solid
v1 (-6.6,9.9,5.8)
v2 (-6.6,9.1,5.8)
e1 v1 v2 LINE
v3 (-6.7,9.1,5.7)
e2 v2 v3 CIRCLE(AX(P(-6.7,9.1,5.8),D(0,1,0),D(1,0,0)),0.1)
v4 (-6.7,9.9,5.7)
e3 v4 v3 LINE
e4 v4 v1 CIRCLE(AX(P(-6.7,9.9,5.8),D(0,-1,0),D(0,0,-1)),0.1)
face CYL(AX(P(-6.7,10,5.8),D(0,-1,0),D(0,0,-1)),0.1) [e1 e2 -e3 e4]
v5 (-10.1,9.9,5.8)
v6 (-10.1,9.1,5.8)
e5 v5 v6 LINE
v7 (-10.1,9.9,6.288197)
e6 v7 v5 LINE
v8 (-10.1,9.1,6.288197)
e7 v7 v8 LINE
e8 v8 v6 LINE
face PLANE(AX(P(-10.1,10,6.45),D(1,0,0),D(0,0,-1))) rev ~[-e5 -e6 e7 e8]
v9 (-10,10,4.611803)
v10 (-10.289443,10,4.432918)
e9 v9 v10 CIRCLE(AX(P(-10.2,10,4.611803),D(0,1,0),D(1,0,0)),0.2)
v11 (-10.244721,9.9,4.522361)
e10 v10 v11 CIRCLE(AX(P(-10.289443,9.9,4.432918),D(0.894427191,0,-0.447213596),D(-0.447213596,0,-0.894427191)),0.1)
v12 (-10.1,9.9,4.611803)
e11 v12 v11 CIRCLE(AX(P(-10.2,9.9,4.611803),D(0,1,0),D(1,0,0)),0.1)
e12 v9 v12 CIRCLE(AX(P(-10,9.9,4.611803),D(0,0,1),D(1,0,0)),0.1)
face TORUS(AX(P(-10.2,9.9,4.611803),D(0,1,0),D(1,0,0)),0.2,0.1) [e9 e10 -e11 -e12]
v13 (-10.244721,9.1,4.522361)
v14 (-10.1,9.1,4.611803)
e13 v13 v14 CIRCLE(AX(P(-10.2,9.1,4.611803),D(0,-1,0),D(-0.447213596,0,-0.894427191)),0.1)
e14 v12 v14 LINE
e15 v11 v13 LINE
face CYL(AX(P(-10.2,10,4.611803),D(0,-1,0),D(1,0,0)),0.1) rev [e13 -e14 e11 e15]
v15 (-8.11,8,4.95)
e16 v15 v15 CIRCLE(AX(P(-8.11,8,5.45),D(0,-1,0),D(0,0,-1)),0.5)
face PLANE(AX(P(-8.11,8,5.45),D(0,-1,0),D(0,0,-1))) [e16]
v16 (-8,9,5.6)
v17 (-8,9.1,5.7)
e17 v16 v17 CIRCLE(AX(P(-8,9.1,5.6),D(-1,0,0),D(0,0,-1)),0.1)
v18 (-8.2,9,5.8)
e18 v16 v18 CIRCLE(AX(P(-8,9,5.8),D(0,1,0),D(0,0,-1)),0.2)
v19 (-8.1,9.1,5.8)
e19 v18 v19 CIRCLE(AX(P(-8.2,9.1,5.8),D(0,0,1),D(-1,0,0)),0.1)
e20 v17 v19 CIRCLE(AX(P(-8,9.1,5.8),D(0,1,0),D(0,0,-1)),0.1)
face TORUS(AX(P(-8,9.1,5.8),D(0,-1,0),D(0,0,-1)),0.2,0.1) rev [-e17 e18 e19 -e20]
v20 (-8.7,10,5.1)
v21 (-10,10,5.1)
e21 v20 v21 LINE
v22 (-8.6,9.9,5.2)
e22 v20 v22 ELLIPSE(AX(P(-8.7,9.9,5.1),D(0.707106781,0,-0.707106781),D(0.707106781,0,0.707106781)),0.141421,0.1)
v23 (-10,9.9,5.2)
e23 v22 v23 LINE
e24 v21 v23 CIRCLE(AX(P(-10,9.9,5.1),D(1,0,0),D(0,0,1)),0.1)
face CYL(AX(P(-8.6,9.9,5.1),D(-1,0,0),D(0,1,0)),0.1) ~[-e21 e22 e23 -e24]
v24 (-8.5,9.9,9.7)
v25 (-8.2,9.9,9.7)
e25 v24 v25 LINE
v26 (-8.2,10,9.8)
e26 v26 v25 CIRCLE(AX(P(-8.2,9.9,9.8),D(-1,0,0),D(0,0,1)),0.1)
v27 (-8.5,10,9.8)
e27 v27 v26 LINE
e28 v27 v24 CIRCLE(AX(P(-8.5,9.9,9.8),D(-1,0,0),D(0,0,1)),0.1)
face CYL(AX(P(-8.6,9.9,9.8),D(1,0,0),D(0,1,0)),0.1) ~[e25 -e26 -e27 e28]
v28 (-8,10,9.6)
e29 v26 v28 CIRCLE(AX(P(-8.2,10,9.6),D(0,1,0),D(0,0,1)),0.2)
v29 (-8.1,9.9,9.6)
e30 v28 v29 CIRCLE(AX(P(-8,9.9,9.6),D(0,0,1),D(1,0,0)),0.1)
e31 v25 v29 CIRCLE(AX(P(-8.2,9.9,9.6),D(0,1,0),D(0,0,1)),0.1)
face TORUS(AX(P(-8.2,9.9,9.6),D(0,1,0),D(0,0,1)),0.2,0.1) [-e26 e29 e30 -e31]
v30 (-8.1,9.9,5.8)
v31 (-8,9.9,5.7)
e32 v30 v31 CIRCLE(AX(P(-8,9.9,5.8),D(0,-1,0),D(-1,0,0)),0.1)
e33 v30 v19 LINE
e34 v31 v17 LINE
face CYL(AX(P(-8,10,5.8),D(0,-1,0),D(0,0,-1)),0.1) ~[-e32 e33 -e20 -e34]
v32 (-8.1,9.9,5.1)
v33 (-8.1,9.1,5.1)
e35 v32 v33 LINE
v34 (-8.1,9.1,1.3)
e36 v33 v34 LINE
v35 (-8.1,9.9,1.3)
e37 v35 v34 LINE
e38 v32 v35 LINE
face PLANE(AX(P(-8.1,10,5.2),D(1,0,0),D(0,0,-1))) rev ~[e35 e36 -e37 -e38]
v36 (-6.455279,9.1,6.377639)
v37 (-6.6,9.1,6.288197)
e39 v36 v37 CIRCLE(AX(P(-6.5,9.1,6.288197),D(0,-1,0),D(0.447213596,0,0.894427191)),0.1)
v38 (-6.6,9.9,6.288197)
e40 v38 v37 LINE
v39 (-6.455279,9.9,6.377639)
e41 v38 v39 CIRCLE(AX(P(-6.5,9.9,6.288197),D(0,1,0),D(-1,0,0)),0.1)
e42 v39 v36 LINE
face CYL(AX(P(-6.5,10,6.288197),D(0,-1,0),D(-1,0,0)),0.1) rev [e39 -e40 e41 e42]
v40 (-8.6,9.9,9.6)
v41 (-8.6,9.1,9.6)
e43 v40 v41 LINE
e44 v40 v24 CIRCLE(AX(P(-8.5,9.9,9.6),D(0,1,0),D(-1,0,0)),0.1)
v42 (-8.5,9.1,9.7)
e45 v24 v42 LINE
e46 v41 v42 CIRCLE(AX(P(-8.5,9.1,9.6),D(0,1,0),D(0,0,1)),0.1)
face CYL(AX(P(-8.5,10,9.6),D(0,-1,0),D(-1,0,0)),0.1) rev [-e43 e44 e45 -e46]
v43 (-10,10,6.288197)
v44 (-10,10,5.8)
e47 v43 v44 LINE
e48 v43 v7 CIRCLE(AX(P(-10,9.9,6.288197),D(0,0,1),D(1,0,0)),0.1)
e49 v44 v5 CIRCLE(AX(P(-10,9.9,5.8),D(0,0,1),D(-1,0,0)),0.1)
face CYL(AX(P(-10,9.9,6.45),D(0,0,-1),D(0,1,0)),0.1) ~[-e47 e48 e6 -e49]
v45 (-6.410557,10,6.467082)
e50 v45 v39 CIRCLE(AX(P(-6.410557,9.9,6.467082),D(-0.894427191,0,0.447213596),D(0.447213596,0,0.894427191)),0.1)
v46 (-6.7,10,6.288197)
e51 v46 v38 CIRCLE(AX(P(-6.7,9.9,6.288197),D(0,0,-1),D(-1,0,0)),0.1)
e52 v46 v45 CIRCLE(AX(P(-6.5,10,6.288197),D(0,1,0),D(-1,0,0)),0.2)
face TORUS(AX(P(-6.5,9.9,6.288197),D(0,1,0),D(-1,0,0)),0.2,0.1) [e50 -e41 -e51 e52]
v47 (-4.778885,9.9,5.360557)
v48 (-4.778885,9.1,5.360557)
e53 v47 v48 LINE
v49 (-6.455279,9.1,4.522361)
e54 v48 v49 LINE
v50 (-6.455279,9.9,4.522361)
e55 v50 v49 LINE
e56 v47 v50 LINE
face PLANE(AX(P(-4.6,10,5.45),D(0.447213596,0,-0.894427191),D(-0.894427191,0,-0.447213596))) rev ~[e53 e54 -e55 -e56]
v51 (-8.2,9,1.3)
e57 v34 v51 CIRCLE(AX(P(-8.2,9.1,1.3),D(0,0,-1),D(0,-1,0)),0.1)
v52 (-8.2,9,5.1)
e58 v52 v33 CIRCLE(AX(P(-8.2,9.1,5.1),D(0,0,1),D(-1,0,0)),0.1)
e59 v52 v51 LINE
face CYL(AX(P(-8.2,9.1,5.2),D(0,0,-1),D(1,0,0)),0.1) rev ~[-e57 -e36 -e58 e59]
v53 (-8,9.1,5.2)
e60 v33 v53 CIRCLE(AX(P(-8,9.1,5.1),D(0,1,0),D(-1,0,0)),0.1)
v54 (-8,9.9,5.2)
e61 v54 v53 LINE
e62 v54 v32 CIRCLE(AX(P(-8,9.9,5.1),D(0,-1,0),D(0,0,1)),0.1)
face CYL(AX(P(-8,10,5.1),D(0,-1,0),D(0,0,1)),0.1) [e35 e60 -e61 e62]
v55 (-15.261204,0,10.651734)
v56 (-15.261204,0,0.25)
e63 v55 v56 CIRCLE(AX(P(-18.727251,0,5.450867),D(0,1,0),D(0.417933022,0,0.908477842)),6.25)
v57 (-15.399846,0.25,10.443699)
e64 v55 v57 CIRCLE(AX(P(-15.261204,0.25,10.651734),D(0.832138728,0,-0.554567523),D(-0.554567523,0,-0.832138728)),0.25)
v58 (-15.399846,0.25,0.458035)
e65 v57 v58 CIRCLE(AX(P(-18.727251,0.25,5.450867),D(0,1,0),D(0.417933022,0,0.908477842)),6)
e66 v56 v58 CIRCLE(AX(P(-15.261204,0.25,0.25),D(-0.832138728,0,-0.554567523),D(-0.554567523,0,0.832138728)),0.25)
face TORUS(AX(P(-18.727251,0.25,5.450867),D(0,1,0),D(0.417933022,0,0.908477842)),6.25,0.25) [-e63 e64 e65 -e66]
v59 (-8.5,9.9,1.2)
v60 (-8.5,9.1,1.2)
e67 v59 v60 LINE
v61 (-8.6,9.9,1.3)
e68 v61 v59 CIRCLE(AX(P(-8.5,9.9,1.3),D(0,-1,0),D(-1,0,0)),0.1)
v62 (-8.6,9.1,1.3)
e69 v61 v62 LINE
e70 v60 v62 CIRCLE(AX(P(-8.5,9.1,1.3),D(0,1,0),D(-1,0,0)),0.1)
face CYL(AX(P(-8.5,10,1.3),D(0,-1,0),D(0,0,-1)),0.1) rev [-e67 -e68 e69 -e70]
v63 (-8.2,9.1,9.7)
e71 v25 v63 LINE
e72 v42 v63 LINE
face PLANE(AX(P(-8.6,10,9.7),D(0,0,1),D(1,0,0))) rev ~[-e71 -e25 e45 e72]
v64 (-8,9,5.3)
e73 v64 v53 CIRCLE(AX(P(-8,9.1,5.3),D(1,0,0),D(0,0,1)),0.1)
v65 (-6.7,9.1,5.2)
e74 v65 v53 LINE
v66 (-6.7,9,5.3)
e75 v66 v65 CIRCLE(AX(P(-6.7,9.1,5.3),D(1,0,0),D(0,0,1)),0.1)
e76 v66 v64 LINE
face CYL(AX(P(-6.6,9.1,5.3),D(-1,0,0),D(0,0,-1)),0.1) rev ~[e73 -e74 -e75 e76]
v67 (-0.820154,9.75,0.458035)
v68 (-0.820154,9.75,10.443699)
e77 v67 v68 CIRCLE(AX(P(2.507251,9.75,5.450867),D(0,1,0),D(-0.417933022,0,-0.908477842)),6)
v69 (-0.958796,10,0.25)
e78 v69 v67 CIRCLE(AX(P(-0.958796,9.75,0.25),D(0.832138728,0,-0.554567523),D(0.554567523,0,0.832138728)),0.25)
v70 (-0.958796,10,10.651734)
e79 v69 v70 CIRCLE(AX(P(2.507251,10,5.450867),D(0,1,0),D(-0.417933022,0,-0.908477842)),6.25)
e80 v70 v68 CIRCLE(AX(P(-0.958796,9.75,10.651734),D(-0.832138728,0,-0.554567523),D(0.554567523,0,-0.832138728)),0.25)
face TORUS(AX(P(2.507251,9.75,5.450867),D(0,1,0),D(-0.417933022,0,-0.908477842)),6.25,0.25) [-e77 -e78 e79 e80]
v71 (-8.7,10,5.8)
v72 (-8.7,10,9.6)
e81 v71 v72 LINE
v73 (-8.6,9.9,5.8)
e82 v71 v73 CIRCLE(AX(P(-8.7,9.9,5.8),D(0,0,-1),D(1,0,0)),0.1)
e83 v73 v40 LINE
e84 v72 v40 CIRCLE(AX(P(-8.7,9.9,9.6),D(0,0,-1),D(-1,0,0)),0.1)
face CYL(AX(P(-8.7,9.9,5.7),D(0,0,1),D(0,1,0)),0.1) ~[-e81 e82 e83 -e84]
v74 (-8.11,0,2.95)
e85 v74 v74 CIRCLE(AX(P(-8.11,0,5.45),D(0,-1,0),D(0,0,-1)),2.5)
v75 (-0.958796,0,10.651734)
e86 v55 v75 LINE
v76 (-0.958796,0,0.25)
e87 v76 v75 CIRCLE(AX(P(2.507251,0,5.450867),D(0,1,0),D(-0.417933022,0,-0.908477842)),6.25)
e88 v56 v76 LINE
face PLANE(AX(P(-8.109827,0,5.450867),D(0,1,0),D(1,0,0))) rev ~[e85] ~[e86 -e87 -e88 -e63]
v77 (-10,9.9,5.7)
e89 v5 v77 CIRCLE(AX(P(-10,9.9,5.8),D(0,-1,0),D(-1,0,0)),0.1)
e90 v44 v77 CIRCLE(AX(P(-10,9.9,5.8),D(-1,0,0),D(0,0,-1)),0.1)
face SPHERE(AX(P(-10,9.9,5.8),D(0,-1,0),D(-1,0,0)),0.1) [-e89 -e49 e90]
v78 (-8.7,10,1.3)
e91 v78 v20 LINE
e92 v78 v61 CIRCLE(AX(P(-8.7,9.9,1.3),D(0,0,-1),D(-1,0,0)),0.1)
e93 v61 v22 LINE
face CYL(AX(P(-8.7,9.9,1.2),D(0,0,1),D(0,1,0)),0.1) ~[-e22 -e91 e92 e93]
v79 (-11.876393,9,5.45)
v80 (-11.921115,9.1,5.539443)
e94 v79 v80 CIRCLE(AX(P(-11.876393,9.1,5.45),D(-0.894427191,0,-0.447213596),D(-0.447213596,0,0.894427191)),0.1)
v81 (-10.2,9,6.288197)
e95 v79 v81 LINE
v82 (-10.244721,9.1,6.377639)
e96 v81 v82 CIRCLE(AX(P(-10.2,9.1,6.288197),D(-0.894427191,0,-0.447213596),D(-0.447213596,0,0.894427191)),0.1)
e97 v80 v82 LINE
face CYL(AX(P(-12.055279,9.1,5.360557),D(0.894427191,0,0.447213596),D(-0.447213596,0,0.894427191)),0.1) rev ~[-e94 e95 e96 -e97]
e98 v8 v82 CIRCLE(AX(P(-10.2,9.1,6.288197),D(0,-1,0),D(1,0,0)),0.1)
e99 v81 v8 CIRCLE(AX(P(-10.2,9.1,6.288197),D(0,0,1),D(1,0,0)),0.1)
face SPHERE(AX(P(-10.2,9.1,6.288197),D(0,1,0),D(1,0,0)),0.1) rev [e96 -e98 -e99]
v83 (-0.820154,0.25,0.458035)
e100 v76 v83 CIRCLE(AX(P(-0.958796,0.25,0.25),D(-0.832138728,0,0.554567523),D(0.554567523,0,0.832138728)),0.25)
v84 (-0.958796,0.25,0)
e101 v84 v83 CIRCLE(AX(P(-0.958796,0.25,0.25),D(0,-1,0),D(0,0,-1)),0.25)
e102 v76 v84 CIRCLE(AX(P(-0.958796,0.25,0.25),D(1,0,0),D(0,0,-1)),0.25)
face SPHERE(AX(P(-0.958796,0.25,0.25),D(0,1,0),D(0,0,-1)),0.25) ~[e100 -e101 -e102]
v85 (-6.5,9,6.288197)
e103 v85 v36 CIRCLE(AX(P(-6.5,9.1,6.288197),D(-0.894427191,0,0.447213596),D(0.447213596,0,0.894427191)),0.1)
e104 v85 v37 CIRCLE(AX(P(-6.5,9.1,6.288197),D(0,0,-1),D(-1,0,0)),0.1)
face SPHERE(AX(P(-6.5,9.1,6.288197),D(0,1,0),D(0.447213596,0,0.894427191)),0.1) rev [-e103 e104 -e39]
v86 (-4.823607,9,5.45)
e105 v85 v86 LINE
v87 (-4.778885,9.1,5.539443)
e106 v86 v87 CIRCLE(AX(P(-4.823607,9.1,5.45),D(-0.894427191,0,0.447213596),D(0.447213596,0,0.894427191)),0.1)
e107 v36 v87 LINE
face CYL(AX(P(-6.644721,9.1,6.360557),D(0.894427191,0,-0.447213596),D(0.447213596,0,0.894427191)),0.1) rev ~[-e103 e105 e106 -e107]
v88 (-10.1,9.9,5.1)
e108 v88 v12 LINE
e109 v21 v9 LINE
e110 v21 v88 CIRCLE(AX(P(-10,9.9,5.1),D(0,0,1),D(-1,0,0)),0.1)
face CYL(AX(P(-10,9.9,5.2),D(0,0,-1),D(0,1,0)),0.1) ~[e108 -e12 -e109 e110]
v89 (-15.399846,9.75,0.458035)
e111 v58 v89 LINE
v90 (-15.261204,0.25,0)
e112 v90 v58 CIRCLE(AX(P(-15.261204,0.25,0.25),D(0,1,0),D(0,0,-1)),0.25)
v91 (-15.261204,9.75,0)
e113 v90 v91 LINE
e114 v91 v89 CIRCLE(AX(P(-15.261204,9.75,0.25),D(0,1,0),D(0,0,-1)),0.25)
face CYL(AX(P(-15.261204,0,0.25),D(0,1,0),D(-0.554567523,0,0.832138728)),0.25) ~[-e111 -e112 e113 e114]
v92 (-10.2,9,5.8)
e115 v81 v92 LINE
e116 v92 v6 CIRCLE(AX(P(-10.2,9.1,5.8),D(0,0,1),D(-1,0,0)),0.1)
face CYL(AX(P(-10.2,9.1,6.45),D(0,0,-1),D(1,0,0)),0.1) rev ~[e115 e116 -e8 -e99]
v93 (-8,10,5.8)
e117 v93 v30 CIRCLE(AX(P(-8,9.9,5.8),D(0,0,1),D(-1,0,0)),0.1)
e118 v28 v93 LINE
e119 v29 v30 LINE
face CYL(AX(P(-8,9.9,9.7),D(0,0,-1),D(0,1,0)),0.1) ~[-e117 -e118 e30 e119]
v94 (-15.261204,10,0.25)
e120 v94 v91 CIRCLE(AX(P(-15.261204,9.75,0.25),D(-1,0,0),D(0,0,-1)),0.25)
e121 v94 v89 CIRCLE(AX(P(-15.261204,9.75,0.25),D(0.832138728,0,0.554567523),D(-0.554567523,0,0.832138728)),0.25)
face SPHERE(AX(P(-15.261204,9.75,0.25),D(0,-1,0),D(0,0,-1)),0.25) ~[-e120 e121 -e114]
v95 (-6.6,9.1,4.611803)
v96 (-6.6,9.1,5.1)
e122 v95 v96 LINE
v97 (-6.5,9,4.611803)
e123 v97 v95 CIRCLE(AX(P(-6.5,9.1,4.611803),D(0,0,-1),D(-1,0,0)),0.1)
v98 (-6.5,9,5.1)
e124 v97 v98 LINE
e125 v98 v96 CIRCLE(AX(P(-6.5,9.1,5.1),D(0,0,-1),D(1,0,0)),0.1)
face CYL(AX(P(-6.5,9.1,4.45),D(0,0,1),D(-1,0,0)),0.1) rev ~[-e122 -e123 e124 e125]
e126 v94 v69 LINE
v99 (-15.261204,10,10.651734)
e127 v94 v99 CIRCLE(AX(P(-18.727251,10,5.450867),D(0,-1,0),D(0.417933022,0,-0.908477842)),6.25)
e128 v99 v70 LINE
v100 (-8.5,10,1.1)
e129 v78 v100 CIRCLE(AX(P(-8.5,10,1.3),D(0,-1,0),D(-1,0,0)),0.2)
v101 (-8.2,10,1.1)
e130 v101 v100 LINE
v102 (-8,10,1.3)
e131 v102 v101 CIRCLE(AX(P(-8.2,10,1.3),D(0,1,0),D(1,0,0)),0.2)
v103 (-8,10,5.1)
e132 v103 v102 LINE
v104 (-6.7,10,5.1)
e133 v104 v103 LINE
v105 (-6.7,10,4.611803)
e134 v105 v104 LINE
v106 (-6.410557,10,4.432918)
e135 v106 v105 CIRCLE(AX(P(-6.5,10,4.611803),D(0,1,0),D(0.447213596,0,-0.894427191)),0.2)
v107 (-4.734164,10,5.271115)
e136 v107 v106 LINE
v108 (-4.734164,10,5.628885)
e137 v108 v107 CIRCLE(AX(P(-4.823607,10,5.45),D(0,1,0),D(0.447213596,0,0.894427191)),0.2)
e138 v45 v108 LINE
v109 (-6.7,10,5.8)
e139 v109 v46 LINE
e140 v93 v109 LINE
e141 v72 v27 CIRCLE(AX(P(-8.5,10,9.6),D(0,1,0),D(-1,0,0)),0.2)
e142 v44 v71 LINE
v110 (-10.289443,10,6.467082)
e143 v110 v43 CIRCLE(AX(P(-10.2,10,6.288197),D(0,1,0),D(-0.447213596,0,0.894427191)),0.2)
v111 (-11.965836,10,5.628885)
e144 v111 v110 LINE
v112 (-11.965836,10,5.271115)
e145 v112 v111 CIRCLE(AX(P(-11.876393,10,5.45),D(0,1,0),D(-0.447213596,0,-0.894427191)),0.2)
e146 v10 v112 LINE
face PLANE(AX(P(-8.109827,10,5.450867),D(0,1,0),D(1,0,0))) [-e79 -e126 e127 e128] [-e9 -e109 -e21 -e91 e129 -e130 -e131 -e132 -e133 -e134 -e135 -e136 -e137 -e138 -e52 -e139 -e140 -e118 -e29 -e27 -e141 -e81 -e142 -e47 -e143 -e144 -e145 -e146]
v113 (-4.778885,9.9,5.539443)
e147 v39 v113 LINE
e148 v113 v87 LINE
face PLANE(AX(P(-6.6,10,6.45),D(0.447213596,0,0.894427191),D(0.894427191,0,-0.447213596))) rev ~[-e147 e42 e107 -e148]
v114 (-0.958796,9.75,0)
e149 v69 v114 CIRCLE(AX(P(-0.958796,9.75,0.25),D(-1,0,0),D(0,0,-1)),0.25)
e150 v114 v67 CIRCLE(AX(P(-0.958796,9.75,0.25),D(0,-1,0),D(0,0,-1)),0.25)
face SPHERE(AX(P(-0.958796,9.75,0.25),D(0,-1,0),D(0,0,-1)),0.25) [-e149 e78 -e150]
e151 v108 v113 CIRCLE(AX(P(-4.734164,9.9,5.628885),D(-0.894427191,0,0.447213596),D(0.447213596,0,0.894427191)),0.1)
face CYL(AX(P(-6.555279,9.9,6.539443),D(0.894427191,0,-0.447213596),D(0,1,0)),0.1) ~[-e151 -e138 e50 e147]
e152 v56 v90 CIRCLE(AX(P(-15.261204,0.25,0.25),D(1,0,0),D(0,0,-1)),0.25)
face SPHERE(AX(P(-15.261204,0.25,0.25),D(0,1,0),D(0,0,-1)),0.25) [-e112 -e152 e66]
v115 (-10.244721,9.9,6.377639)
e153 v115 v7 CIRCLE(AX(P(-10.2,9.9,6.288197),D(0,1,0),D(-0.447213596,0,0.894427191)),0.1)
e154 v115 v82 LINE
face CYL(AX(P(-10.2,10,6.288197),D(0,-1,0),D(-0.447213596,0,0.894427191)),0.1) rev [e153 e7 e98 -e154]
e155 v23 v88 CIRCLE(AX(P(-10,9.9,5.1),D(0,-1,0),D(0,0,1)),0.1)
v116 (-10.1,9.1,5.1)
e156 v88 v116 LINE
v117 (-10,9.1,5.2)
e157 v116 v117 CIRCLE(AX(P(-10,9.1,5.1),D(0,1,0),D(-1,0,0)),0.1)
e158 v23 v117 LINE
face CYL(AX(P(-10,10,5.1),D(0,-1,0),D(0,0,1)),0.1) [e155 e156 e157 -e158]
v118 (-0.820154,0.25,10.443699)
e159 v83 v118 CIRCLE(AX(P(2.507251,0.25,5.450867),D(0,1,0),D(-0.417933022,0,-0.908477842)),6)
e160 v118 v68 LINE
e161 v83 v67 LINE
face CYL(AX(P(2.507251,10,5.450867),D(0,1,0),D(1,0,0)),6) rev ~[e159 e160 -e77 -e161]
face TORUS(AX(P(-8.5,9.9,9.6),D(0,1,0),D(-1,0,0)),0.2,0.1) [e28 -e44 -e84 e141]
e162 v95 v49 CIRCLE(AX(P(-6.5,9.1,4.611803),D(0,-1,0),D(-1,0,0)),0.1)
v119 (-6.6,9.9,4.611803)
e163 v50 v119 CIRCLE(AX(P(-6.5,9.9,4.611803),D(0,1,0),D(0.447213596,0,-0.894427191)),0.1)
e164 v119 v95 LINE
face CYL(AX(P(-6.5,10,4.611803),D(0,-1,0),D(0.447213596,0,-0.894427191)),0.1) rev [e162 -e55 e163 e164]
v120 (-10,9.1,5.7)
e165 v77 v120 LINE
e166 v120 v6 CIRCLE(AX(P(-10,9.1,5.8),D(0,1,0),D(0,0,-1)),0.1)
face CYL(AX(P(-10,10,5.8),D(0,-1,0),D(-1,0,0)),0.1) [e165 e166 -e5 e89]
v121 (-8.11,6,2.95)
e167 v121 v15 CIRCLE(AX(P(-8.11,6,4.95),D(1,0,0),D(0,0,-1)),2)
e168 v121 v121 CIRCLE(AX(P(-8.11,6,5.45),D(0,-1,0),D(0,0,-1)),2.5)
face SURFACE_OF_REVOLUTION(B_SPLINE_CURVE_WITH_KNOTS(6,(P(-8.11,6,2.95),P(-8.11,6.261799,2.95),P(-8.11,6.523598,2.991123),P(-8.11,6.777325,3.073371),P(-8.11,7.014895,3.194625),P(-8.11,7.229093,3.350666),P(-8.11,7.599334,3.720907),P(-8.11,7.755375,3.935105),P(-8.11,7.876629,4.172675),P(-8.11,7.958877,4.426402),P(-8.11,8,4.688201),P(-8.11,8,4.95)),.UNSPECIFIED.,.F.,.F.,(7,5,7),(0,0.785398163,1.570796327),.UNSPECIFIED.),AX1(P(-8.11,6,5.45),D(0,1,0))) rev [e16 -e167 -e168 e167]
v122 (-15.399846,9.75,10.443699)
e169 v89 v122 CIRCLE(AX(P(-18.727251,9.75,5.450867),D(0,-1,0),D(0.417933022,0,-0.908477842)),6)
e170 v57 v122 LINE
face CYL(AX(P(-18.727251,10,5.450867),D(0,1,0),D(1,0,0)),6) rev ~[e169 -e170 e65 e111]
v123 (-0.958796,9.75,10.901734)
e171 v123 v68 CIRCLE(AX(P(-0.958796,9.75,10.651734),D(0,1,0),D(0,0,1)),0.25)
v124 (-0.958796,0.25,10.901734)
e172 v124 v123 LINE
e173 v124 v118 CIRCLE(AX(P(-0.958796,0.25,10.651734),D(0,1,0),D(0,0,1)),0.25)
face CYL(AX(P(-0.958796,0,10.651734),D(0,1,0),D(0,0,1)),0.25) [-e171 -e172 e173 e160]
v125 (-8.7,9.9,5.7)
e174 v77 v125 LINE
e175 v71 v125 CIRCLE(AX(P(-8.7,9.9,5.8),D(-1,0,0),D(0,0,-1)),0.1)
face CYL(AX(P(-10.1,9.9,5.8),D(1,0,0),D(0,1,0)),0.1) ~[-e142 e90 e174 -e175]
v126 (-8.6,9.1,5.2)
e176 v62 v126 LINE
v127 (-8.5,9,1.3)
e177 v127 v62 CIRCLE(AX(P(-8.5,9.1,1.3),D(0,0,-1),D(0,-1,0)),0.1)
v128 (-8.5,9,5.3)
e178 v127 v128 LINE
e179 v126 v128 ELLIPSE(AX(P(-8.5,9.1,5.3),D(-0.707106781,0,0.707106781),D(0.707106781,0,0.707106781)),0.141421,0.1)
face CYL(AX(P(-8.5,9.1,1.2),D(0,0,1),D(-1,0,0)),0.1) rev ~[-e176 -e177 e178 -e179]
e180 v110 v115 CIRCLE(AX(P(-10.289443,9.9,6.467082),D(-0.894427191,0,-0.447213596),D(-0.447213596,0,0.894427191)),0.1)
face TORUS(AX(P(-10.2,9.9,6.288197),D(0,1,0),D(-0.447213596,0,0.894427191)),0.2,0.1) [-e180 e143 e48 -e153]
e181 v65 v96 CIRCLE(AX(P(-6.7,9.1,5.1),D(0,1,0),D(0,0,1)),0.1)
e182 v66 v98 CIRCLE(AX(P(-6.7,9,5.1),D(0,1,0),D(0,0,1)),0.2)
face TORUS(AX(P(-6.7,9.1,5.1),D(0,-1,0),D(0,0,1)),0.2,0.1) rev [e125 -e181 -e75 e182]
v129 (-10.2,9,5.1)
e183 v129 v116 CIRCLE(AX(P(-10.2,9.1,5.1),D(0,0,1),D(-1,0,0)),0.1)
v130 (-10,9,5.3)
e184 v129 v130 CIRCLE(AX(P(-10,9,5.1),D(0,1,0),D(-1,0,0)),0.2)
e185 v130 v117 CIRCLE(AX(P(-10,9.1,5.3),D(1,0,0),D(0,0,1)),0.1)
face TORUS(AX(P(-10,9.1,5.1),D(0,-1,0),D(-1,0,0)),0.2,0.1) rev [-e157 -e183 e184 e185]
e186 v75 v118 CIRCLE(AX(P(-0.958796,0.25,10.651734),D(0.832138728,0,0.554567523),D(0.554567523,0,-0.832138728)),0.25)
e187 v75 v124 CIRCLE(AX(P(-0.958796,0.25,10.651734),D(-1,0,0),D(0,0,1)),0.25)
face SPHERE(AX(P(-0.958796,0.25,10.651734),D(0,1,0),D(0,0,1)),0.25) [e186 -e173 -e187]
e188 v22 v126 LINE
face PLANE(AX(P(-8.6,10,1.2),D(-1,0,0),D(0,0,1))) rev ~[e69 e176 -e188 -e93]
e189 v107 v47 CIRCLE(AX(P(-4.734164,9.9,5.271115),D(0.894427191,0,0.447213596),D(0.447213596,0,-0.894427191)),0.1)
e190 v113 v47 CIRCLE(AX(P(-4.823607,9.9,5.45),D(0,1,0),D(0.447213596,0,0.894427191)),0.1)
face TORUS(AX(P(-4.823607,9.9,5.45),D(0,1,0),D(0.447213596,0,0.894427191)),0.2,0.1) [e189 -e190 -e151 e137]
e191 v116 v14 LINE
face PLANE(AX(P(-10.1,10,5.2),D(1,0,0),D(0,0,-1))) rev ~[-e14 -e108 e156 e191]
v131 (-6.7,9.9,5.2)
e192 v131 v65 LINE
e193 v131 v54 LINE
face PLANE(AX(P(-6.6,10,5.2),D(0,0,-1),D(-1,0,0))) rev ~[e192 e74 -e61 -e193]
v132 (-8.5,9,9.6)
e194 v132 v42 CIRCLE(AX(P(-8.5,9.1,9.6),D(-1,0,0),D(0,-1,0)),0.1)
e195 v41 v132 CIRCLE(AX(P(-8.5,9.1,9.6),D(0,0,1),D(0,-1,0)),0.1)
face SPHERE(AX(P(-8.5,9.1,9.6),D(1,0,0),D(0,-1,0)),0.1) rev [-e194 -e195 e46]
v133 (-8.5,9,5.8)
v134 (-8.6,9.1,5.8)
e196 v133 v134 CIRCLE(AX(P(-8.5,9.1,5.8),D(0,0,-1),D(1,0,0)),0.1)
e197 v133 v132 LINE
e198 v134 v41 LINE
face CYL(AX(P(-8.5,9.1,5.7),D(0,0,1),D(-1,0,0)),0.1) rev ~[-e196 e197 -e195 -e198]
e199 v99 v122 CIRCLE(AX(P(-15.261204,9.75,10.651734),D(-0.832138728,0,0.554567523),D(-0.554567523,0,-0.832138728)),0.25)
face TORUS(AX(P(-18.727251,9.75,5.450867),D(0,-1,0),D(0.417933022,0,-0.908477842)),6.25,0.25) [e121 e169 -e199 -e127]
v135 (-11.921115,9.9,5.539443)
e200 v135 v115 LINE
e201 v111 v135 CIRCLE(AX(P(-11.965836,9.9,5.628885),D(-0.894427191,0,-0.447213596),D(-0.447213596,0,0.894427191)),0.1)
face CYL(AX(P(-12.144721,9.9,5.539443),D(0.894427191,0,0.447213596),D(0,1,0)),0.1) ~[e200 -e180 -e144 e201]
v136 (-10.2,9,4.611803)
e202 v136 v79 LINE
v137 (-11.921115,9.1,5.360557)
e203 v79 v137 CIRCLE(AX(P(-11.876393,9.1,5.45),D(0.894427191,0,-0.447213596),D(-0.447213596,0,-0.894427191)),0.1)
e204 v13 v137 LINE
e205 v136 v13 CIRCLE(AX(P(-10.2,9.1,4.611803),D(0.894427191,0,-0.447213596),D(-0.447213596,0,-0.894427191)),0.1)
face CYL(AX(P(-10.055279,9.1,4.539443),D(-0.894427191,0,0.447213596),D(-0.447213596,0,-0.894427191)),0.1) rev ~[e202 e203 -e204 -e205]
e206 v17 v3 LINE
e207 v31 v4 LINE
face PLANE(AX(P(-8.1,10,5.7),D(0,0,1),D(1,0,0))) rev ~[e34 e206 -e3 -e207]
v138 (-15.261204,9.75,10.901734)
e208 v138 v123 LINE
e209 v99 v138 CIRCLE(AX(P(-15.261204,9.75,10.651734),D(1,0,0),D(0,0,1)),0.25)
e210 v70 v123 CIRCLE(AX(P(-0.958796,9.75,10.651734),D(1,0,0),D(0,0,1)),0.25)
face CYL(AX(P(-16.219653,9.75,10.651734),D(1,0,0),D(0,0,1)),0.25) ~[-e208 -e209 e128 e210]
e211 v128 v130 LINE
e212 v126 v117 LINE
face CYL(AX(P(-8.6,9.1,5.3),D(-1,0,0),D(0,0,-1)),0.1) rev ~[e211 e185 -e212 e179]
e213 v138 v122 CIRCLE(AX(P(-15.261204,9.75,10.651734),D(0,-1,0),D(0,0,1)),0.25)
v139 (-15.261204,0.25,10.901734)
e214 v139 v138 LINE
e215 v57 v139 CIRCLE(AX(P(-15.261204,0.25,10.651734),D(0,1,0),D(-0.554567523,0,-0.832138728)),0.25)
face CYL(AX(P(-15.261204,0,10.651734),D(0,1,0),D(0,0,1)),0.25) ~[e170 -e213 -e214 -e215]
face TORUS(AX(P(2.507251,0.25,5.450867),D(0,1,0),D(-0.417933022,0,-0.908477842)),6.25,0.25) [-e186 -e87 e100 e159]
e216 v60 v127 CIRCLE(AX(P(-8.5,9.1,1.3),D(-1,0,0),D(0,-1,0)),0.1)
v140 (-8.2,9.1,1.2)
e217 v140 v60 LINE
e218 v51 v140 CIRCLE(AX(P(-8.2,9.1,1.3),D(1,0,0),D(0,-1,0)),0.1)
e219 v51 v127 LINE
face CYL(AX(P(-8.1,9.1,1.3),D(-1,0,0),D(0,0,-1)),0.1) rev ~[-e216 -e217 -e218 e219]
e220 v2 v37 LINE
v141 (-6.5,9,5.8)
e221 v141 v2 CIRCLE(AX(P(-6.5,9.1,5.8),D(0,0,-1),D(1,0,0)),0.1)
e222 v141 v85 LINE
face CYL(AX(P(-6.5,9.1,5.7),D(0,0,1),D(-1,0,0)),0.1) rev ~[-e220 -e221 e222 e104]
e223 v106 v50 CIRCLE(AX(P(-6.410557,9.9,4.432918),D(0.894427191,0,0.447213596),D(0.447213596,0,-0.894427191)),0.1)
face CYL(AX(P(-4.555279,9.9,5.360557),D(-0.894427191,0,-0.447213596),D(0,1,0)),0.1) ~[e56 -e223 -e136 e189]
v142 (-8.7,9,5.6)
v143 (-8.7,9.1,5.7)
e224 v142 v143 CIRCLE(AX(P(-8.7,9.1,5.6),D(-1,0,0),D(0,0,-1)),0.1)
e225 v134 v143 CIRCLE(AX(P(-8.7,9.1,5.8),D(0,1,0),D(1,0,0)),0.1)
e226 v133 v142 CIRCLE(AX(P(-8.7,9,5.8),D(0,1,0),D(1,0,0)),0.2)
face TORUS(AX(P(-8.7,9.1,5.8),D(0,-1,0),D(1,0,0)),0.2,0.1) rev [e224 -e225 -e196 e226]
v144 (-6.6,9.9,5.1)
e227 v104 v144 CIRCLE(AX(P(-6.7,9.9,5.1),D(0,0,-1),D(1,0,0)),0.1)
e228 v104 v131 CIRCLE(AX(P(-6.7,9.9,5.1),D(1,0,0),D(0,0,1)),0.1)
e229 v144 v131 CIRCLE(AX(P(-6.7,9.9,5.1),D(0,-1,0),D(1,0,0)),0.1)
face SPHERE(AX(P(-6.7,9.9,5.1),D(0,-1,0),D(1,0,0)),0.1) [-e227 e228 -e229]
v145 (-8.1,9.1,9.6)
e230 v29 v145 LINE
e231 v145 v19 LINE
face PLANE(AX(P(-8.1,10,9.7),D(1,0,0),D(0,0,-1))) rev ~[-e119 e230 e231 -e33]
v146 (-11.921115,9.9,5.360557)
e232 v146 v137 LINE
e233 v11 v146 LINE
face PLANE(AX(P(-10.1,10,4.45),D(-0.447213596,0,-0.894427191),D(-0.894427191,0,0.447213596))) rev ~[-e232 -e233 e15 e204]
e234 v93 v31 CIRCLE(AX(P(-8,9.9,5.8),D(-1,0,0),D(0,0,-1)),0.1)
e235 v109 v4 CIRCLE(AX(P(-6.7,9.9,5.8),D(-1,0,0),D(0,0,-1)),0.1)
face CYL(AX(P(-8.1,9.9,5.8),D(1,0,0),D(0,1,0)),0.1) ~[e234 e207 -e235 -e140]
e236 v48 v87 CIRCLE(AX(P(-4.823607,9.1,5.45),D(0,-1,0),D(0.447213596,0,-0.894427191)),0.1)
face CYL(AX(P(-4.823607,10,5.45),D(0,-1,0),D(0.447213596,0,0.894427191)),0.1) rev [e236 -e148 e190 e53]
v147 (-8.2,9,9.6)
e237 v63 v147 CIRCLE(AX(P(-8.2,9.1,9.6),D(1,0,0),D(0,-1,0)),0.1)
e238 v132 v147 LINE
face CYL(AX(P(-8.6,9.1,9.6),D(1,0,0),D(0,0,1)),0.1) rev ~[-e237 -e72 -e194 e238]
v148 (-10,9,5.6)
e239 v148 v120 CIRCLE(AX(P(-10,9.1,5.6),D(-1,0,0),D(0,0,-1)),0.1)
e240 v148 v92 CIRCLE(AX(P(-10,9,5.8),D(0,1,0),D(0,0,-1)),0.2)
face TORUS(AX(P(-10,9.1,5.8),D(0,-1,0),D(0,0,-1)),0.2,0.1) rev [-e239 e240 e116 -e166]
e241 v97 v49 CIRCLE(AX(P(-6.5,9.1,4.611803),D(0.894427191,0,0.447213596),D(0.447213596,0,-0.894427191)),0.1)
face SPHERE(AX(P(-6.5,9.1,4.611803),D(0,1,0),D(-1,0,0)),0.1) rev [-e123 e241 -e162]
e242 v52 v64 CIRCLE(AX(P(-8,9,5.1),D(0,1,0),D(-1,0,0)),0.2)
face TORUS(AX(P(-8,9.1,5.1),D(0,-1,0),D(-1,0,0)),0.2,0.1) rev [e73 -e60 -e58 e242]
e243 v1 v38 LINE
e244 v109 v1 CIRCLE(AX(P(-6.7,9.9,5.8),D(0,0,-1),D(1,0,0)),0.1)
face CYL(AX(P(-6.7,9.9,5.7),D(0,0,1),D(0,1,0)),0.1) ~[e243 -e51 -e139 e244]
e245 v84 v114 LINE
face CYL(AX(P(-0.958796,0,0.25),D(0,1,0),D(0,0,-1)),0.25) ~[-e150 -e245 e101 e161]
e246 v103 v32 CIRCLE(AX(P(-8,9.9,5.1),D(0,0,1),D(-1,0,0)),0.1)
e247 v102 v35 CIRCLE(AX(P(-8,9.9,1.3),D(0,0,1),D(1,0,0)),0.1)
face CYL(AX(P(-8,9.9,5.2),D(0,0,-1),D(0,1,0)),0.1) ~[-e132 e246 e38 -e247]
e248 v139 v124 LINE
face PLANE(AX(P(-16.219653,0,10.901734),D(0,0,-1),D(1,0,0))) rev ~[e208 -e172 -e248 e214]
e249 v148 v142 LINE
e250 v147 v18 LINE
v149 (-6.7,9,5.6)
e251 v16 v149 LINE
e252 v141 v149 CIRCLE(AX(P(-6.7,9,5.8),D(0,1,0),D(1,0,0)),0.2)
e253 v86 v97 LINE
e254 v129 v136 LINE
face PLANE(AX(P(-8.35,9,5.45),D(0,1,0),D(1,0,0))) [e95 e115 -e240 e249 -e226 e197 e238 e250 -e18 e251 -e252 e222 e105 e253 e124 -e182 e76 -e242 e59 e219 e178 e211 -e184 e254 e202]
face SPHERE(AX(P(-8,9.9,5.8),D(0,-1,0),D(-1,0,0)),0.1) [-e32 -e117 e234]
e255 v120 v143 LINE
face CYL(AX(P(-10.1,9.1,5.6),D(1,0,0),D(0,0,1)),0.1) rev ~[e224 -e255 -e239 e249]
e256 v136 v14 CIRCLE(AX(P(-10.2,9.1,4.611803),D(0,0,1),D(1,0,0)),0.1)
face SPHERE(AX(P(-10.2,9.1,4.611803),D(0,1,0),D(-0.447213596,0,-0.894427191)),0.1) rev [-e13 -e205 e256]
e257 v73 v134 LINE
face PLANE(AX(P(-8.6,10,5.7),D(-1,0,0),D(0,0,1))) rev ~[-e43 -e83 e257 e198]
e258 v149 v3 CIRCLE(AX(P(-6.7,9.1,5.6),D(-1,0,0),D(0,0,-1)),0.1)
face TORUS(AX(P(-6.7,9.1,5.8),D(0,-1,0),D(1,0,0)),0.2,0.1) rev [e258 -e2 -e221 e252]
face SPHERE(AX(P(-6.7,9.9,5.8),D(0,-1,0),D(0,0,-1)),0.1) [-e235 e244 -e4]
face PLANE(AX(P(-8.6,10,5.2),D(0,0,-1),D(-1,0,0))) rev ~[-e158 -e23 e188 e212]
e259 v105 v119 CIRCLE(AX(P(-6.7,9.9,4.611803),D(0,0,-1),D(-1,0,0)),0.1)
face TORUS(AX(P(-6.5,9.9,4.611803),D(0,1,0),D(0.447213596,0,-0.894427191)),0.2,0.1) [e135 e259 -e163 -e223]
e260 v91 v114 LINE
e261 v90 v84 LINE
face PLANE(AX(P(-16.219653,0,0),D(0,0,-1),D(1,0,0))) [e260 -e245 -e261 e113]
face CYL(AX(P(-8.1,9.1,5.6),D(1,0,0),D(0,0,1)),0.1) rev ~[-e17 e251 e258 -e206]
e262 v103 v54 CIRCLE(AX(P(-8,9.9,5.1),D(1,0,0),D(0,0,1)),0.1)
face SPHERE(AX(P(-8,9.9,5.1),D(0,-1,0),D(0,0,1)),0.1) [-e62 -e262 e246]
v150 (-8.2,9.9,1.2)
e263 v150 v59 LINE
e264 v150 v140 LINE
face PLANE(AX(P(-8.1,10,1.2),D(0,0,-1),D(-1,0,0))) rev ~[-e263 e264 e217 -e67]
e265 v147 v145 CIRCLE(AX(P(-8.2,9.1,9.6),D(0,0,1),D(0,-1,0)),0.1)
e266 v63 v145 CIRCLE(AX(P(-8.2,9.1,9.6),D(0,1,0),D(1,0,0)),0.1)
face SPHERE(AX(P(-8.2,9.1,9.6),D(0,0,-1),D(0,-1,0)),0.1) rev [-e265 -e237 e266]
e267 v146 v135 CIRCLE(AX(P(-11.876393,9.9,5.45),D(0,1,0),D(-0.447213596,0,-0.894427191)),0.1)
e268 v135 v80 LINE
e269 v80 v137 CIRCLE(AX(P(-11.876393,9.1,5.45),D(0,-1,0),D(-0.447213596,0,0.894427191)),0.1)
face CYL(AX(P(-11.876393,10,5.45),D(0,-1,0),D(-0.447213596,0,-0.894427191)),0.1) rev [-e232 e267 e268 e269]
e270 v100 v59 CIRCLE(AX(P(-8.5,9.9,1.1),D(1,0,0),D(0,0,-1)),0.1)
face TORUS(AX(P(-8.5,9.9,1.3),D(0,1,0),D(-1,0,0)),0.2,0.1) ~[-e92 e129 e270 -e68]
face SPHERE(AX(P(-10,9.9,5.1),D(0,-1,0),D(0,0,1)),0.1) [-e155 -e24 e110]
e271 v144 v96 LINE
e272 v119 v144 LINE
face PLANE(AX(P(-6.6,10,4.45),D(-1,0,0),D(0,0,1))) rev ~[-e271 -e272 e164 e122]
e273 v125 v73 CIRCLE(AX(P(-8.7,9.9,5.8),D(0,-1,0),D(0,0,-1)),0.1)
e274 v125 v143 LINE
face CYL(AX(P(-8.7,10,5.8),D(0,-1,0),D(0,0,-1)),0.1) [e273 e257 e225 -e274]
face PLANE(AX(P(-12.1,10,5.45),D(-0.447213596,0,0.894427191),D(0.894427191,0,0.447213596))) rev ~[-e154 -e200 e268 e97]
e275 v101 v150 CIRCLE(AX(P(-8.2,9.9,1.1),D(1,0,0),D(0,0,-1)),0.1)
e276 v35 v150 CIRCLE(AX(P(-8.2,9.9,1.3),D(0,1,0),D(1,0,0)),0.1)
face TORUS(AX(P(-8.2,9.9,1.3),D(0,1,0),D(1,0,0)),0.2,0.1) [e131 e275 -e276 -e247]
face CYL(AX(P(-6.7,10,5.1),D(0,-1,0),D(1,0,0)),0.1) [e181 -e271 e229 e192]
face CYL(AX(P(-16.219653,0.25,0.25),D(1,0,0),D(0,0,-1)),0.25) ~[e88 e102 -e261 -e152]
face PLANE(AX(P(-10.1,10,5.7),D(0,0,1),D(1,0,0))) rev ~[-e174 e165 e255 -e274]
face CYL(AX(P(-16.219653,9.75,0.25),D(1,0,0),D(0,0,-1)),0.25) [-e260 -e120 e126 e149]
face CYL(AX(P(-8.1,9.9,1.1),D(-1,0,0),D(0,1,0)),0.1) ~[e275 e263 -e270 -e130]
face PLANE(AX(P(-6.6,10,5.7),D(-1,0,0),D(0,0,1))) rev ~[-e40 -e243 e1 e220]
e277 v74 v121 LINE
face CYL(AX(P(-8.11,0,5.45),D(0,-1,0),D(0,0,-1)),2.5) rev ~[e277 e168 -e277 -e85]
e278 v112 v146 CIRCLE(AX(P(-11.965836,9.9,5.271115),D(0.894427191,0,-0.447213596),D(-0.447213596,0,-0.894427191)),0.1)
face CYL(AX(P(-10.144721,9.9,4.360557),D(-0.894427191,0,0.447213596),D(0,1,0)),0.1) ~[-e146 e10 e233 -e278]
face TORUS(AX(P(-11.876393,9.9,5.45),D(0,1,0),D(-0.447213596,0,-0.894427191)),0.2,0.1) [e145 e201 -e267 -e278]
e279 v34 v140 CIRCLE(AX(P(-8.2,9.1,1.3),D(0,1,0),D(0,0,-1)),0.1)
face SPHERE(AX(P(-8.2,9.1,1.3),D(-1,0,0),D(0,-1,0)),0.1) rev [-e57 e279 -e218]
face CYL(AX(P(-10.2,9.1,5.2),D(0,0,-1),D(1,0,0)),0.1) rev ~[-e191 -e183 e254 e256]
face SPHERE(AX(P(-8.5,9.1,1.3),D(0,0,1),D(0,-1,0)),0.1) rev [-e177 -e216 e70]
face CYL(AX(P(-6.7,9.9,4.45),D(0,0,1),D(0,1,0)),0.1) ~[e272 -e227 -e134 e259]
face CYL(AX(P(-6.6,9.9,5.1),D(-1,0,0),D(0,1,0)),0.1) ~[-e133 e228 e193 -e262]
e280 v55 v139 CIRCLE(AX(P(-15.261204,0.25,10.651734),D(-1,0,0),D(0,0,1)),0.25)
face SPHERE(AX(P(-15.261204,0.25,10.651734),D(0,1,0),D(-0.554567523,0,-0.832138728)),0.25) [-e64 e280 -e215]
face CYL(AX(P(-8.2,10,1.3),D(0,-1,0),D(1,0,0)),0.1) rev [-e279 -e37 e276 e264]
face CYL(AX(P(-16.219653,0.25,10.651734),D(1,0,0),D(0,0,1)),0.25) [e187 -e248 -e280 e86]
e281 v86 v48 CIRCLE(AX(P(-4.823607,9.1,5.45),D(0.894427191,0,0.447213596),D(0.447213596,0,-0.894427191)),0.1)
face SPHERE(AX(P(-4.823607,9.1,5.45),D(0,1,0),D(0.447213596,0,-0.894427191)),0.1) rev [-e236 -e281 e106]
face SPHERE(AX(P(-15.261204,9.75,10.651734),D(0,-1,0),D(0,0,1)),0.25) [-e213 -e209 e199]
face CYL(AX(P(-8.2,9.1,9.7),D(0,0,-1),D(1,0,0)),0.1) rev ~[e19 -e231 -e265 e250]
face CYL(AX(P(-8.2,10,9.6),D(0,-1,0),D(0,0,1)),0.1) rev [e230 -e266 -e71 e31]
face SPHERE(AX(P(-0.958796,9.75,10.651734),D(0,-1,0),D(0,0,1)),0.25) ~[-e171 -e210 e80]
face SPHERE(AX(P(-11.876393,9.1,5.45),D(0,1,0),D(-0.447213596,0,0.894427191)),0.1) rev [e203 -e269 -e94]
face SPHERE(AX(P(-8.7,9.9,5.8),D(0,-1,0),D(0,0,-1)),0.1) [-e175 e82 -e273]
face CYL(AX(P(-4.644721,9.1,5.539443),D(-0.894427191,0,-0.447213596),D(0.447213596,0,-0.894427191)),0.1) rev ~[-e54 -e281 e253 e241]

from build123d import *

# Parameters (mm, degrees)
SKETCH1_W           = 16.2196532
SKETCH1_H           = 10.9017341
BOSS_EXTRUDE1_DEPTH = 10
SKETCH2_R           = 6
CUT_EXTRUDE1_DEPTH  = 10
FILLET1_R           = 0.25
SKETCH3_R           = 2.5
CUT_EXTRUDE2_DEPTH  = 8
FILLET2_R           = 2
CUT_EXTRUDE3_DEPTH  = 1
FILLET3_R           = 0.1


with BuildPart() as part:
    # Sketch1 → Boss-Extrude1 (new body)
    with BuildSketch(Plane(origin=(0, 0, 0), x_dir=(1, 0, 0), z_dir=(0, 1, 0))):
        with Locations((-8.1098266, -5.45086705)):
            Rectangle(SKETCH1_W, SKETCH1_H)
    extrude(amount=BOSS_EXTRUDE1_DEPTH)

    # Sketch2 → Cut-Extrude1 (cut)
    with BuildSketch(Plane(origin=(0, 10, 0), x_dir=(1, 0, 0), z_dir=(0, 1, 0))):
        with Locations((-18.727251334, -5.45086705)):
            Circle(SKETCH2_R)
        with Locations((2.507251334, -5.45086705)):
            Circle(SKETCH2_R)
    extrude(amount=-CUT_EXTRUDE1_DEPTH, mode=Mode.SUBTRACT)

    # Fillet1
    fillet1_edges = [part.edges().sort_by_distance(p)[0] for p in [
        (-8.11, 0, 0),
        (-8.11, 10, 0),
        (-12.727251334, 10, 5.45086705),
        (-12.727251334, 0, 5.45086705),
        (-3.492748666, 10, 5.45086705),
        (-3.492748666, 0, 5.45086705),
        (-0.0003468, 5, 10.9017341),
        (-0.0003468, 5, 0),
        (-8.11, 0, 10.9017341),
        (-16.2196532, 5, 0),
        (-16.2196532, 5, 10.9017341),
        (-8.11, 10, 10.9017341),
    ]]
    fillet(fillet1_edges, radius=FILLET1_R)

    # Sketch3 → Cut-Extrude2 (cut)
    with BuildSketch(Plane.XZ):
        with Locations(Location((-8.11, 5.45, 0), (0, 0, 270))):
            Circle(SKETCH3_R)
    extrude(amount=-CUT_EXTRUDE2_DEPTH, mode=Mode.SUBTRACT)

    # Fillet2
    fillet2_edges = [part.edges().sort_by_distance(p)[0] for p in [
        (-8.11, 8, 7.95),
    ]]
    fillet(fillet2_edges, radius=FILLET2_R)

    # Sketch4 → Cut-Extrude3 (cut)
    with BuildSketch(Plane(origin=(0, 10, 0), x_dir=(1, 0, 0), z_dir=(0, 1, 0))):
        Polygon((-8.1, -5.7), (-6.6, -5.7), (-6.6, -6.45), (-4.6, -5.45), (-6.6, -4.45), (-6.6, -5.2), (-8.1, -5.2), (-8.1, -1.2), (-8.6, -1.2), (-8.6, -5.2), (-10.1, -5.2), (-10.1, -4.45), (-12.1, -5.45), (-10.1, -6.45), (-10.1, -5.7), (-8.6, -5.7), (-8.6, -9.7), (-8.1, -9.7), align=None)
    extrude(amount=-CUT_EXTRUDE3_DEPTH, mode=Mode.SUBTRACT)

    # Fillet3
    fillet3_edges = [part.edges().sort_by_distance(p)[0] for p in [
        (-8.6, 9, 3.2),
        (-8.35, 9, 1.2),
        (-8.6, 9.5, 1.2),
        (-8.1, 9, 3.2),
        (-8.1, 9.5, 1.2),
        (-7.35, 9, 5.2),
        (-8.1, 9.5, 5.2),
        (-6.6, 9, 4.825),
        (-6.6, 9.5, 5.2),
        (-5.6, 9, 4.95),
        (-6.6, 9.5, 4.45),
        (-5.6, 9, 5.95),
        (-4.6, 9.5, 5.45),
        (-6.6, 9, 6.075),
        (-6.6, 9.5, 6.45),
        (-7.35, 9, 5.7),
        (-6.6, 9.5, 5.7),
        (-8.1, 9, 7.7),
        (-8.1, 9.5, 5.7),
        (-8.35, 9, 9.7),
        (-8.1, 9.5, 9.7),
        (-8.6, 9, 7.7),
        (-8.6, 9.5, 9.7),
        (-9.35, 9, 5.7),
        (-8.6, 9.5, 5.7),
        (-10.1, 9, 6.075),
        (-10.1, 9.5, 5.7),
        (-11.1, 9, 5.95),
        (-10.1, 9.5, 6.45),
        (-11.1, 9, 4.95),
        (-12.1, 9.5, 5.45),
        (-10.1, 9, 4.825),
        (-10.1, 9.5, 4.45),
        (-9.35, 9, 5.2),
        (-10.1, 9.5, 5.2),
        (-8.6, 10, 3.2),
        (-9.35, 10, 5.2),
        (-10.1, 10, 4.825),
        (-11.1, 10, 4.95),
        (-11.1, 10, 5.95),
        (-10.1, 10, 6.075),
        (-9.35, 10, 5.7),
        (-8.6, 10, 7.7),
        (-8.35, 10, 9.7),
        (-8.1, 10, 7.7),
        (-7.35, 10, 5.7),
        (-6.6, 10, 6.075),
        (-5.6, 10, 5.95),
        (-5.6, 10, 4.95),
        (-6.6, 10, 4.825),
        (-7.35, 10, 5.2),
        (-8.1, 10, 3.2),
        (-8.35, 10, 1.2),
    ]]
    fillet(fillet3_edges, radius=FILLET3_R)


solid = part.part
